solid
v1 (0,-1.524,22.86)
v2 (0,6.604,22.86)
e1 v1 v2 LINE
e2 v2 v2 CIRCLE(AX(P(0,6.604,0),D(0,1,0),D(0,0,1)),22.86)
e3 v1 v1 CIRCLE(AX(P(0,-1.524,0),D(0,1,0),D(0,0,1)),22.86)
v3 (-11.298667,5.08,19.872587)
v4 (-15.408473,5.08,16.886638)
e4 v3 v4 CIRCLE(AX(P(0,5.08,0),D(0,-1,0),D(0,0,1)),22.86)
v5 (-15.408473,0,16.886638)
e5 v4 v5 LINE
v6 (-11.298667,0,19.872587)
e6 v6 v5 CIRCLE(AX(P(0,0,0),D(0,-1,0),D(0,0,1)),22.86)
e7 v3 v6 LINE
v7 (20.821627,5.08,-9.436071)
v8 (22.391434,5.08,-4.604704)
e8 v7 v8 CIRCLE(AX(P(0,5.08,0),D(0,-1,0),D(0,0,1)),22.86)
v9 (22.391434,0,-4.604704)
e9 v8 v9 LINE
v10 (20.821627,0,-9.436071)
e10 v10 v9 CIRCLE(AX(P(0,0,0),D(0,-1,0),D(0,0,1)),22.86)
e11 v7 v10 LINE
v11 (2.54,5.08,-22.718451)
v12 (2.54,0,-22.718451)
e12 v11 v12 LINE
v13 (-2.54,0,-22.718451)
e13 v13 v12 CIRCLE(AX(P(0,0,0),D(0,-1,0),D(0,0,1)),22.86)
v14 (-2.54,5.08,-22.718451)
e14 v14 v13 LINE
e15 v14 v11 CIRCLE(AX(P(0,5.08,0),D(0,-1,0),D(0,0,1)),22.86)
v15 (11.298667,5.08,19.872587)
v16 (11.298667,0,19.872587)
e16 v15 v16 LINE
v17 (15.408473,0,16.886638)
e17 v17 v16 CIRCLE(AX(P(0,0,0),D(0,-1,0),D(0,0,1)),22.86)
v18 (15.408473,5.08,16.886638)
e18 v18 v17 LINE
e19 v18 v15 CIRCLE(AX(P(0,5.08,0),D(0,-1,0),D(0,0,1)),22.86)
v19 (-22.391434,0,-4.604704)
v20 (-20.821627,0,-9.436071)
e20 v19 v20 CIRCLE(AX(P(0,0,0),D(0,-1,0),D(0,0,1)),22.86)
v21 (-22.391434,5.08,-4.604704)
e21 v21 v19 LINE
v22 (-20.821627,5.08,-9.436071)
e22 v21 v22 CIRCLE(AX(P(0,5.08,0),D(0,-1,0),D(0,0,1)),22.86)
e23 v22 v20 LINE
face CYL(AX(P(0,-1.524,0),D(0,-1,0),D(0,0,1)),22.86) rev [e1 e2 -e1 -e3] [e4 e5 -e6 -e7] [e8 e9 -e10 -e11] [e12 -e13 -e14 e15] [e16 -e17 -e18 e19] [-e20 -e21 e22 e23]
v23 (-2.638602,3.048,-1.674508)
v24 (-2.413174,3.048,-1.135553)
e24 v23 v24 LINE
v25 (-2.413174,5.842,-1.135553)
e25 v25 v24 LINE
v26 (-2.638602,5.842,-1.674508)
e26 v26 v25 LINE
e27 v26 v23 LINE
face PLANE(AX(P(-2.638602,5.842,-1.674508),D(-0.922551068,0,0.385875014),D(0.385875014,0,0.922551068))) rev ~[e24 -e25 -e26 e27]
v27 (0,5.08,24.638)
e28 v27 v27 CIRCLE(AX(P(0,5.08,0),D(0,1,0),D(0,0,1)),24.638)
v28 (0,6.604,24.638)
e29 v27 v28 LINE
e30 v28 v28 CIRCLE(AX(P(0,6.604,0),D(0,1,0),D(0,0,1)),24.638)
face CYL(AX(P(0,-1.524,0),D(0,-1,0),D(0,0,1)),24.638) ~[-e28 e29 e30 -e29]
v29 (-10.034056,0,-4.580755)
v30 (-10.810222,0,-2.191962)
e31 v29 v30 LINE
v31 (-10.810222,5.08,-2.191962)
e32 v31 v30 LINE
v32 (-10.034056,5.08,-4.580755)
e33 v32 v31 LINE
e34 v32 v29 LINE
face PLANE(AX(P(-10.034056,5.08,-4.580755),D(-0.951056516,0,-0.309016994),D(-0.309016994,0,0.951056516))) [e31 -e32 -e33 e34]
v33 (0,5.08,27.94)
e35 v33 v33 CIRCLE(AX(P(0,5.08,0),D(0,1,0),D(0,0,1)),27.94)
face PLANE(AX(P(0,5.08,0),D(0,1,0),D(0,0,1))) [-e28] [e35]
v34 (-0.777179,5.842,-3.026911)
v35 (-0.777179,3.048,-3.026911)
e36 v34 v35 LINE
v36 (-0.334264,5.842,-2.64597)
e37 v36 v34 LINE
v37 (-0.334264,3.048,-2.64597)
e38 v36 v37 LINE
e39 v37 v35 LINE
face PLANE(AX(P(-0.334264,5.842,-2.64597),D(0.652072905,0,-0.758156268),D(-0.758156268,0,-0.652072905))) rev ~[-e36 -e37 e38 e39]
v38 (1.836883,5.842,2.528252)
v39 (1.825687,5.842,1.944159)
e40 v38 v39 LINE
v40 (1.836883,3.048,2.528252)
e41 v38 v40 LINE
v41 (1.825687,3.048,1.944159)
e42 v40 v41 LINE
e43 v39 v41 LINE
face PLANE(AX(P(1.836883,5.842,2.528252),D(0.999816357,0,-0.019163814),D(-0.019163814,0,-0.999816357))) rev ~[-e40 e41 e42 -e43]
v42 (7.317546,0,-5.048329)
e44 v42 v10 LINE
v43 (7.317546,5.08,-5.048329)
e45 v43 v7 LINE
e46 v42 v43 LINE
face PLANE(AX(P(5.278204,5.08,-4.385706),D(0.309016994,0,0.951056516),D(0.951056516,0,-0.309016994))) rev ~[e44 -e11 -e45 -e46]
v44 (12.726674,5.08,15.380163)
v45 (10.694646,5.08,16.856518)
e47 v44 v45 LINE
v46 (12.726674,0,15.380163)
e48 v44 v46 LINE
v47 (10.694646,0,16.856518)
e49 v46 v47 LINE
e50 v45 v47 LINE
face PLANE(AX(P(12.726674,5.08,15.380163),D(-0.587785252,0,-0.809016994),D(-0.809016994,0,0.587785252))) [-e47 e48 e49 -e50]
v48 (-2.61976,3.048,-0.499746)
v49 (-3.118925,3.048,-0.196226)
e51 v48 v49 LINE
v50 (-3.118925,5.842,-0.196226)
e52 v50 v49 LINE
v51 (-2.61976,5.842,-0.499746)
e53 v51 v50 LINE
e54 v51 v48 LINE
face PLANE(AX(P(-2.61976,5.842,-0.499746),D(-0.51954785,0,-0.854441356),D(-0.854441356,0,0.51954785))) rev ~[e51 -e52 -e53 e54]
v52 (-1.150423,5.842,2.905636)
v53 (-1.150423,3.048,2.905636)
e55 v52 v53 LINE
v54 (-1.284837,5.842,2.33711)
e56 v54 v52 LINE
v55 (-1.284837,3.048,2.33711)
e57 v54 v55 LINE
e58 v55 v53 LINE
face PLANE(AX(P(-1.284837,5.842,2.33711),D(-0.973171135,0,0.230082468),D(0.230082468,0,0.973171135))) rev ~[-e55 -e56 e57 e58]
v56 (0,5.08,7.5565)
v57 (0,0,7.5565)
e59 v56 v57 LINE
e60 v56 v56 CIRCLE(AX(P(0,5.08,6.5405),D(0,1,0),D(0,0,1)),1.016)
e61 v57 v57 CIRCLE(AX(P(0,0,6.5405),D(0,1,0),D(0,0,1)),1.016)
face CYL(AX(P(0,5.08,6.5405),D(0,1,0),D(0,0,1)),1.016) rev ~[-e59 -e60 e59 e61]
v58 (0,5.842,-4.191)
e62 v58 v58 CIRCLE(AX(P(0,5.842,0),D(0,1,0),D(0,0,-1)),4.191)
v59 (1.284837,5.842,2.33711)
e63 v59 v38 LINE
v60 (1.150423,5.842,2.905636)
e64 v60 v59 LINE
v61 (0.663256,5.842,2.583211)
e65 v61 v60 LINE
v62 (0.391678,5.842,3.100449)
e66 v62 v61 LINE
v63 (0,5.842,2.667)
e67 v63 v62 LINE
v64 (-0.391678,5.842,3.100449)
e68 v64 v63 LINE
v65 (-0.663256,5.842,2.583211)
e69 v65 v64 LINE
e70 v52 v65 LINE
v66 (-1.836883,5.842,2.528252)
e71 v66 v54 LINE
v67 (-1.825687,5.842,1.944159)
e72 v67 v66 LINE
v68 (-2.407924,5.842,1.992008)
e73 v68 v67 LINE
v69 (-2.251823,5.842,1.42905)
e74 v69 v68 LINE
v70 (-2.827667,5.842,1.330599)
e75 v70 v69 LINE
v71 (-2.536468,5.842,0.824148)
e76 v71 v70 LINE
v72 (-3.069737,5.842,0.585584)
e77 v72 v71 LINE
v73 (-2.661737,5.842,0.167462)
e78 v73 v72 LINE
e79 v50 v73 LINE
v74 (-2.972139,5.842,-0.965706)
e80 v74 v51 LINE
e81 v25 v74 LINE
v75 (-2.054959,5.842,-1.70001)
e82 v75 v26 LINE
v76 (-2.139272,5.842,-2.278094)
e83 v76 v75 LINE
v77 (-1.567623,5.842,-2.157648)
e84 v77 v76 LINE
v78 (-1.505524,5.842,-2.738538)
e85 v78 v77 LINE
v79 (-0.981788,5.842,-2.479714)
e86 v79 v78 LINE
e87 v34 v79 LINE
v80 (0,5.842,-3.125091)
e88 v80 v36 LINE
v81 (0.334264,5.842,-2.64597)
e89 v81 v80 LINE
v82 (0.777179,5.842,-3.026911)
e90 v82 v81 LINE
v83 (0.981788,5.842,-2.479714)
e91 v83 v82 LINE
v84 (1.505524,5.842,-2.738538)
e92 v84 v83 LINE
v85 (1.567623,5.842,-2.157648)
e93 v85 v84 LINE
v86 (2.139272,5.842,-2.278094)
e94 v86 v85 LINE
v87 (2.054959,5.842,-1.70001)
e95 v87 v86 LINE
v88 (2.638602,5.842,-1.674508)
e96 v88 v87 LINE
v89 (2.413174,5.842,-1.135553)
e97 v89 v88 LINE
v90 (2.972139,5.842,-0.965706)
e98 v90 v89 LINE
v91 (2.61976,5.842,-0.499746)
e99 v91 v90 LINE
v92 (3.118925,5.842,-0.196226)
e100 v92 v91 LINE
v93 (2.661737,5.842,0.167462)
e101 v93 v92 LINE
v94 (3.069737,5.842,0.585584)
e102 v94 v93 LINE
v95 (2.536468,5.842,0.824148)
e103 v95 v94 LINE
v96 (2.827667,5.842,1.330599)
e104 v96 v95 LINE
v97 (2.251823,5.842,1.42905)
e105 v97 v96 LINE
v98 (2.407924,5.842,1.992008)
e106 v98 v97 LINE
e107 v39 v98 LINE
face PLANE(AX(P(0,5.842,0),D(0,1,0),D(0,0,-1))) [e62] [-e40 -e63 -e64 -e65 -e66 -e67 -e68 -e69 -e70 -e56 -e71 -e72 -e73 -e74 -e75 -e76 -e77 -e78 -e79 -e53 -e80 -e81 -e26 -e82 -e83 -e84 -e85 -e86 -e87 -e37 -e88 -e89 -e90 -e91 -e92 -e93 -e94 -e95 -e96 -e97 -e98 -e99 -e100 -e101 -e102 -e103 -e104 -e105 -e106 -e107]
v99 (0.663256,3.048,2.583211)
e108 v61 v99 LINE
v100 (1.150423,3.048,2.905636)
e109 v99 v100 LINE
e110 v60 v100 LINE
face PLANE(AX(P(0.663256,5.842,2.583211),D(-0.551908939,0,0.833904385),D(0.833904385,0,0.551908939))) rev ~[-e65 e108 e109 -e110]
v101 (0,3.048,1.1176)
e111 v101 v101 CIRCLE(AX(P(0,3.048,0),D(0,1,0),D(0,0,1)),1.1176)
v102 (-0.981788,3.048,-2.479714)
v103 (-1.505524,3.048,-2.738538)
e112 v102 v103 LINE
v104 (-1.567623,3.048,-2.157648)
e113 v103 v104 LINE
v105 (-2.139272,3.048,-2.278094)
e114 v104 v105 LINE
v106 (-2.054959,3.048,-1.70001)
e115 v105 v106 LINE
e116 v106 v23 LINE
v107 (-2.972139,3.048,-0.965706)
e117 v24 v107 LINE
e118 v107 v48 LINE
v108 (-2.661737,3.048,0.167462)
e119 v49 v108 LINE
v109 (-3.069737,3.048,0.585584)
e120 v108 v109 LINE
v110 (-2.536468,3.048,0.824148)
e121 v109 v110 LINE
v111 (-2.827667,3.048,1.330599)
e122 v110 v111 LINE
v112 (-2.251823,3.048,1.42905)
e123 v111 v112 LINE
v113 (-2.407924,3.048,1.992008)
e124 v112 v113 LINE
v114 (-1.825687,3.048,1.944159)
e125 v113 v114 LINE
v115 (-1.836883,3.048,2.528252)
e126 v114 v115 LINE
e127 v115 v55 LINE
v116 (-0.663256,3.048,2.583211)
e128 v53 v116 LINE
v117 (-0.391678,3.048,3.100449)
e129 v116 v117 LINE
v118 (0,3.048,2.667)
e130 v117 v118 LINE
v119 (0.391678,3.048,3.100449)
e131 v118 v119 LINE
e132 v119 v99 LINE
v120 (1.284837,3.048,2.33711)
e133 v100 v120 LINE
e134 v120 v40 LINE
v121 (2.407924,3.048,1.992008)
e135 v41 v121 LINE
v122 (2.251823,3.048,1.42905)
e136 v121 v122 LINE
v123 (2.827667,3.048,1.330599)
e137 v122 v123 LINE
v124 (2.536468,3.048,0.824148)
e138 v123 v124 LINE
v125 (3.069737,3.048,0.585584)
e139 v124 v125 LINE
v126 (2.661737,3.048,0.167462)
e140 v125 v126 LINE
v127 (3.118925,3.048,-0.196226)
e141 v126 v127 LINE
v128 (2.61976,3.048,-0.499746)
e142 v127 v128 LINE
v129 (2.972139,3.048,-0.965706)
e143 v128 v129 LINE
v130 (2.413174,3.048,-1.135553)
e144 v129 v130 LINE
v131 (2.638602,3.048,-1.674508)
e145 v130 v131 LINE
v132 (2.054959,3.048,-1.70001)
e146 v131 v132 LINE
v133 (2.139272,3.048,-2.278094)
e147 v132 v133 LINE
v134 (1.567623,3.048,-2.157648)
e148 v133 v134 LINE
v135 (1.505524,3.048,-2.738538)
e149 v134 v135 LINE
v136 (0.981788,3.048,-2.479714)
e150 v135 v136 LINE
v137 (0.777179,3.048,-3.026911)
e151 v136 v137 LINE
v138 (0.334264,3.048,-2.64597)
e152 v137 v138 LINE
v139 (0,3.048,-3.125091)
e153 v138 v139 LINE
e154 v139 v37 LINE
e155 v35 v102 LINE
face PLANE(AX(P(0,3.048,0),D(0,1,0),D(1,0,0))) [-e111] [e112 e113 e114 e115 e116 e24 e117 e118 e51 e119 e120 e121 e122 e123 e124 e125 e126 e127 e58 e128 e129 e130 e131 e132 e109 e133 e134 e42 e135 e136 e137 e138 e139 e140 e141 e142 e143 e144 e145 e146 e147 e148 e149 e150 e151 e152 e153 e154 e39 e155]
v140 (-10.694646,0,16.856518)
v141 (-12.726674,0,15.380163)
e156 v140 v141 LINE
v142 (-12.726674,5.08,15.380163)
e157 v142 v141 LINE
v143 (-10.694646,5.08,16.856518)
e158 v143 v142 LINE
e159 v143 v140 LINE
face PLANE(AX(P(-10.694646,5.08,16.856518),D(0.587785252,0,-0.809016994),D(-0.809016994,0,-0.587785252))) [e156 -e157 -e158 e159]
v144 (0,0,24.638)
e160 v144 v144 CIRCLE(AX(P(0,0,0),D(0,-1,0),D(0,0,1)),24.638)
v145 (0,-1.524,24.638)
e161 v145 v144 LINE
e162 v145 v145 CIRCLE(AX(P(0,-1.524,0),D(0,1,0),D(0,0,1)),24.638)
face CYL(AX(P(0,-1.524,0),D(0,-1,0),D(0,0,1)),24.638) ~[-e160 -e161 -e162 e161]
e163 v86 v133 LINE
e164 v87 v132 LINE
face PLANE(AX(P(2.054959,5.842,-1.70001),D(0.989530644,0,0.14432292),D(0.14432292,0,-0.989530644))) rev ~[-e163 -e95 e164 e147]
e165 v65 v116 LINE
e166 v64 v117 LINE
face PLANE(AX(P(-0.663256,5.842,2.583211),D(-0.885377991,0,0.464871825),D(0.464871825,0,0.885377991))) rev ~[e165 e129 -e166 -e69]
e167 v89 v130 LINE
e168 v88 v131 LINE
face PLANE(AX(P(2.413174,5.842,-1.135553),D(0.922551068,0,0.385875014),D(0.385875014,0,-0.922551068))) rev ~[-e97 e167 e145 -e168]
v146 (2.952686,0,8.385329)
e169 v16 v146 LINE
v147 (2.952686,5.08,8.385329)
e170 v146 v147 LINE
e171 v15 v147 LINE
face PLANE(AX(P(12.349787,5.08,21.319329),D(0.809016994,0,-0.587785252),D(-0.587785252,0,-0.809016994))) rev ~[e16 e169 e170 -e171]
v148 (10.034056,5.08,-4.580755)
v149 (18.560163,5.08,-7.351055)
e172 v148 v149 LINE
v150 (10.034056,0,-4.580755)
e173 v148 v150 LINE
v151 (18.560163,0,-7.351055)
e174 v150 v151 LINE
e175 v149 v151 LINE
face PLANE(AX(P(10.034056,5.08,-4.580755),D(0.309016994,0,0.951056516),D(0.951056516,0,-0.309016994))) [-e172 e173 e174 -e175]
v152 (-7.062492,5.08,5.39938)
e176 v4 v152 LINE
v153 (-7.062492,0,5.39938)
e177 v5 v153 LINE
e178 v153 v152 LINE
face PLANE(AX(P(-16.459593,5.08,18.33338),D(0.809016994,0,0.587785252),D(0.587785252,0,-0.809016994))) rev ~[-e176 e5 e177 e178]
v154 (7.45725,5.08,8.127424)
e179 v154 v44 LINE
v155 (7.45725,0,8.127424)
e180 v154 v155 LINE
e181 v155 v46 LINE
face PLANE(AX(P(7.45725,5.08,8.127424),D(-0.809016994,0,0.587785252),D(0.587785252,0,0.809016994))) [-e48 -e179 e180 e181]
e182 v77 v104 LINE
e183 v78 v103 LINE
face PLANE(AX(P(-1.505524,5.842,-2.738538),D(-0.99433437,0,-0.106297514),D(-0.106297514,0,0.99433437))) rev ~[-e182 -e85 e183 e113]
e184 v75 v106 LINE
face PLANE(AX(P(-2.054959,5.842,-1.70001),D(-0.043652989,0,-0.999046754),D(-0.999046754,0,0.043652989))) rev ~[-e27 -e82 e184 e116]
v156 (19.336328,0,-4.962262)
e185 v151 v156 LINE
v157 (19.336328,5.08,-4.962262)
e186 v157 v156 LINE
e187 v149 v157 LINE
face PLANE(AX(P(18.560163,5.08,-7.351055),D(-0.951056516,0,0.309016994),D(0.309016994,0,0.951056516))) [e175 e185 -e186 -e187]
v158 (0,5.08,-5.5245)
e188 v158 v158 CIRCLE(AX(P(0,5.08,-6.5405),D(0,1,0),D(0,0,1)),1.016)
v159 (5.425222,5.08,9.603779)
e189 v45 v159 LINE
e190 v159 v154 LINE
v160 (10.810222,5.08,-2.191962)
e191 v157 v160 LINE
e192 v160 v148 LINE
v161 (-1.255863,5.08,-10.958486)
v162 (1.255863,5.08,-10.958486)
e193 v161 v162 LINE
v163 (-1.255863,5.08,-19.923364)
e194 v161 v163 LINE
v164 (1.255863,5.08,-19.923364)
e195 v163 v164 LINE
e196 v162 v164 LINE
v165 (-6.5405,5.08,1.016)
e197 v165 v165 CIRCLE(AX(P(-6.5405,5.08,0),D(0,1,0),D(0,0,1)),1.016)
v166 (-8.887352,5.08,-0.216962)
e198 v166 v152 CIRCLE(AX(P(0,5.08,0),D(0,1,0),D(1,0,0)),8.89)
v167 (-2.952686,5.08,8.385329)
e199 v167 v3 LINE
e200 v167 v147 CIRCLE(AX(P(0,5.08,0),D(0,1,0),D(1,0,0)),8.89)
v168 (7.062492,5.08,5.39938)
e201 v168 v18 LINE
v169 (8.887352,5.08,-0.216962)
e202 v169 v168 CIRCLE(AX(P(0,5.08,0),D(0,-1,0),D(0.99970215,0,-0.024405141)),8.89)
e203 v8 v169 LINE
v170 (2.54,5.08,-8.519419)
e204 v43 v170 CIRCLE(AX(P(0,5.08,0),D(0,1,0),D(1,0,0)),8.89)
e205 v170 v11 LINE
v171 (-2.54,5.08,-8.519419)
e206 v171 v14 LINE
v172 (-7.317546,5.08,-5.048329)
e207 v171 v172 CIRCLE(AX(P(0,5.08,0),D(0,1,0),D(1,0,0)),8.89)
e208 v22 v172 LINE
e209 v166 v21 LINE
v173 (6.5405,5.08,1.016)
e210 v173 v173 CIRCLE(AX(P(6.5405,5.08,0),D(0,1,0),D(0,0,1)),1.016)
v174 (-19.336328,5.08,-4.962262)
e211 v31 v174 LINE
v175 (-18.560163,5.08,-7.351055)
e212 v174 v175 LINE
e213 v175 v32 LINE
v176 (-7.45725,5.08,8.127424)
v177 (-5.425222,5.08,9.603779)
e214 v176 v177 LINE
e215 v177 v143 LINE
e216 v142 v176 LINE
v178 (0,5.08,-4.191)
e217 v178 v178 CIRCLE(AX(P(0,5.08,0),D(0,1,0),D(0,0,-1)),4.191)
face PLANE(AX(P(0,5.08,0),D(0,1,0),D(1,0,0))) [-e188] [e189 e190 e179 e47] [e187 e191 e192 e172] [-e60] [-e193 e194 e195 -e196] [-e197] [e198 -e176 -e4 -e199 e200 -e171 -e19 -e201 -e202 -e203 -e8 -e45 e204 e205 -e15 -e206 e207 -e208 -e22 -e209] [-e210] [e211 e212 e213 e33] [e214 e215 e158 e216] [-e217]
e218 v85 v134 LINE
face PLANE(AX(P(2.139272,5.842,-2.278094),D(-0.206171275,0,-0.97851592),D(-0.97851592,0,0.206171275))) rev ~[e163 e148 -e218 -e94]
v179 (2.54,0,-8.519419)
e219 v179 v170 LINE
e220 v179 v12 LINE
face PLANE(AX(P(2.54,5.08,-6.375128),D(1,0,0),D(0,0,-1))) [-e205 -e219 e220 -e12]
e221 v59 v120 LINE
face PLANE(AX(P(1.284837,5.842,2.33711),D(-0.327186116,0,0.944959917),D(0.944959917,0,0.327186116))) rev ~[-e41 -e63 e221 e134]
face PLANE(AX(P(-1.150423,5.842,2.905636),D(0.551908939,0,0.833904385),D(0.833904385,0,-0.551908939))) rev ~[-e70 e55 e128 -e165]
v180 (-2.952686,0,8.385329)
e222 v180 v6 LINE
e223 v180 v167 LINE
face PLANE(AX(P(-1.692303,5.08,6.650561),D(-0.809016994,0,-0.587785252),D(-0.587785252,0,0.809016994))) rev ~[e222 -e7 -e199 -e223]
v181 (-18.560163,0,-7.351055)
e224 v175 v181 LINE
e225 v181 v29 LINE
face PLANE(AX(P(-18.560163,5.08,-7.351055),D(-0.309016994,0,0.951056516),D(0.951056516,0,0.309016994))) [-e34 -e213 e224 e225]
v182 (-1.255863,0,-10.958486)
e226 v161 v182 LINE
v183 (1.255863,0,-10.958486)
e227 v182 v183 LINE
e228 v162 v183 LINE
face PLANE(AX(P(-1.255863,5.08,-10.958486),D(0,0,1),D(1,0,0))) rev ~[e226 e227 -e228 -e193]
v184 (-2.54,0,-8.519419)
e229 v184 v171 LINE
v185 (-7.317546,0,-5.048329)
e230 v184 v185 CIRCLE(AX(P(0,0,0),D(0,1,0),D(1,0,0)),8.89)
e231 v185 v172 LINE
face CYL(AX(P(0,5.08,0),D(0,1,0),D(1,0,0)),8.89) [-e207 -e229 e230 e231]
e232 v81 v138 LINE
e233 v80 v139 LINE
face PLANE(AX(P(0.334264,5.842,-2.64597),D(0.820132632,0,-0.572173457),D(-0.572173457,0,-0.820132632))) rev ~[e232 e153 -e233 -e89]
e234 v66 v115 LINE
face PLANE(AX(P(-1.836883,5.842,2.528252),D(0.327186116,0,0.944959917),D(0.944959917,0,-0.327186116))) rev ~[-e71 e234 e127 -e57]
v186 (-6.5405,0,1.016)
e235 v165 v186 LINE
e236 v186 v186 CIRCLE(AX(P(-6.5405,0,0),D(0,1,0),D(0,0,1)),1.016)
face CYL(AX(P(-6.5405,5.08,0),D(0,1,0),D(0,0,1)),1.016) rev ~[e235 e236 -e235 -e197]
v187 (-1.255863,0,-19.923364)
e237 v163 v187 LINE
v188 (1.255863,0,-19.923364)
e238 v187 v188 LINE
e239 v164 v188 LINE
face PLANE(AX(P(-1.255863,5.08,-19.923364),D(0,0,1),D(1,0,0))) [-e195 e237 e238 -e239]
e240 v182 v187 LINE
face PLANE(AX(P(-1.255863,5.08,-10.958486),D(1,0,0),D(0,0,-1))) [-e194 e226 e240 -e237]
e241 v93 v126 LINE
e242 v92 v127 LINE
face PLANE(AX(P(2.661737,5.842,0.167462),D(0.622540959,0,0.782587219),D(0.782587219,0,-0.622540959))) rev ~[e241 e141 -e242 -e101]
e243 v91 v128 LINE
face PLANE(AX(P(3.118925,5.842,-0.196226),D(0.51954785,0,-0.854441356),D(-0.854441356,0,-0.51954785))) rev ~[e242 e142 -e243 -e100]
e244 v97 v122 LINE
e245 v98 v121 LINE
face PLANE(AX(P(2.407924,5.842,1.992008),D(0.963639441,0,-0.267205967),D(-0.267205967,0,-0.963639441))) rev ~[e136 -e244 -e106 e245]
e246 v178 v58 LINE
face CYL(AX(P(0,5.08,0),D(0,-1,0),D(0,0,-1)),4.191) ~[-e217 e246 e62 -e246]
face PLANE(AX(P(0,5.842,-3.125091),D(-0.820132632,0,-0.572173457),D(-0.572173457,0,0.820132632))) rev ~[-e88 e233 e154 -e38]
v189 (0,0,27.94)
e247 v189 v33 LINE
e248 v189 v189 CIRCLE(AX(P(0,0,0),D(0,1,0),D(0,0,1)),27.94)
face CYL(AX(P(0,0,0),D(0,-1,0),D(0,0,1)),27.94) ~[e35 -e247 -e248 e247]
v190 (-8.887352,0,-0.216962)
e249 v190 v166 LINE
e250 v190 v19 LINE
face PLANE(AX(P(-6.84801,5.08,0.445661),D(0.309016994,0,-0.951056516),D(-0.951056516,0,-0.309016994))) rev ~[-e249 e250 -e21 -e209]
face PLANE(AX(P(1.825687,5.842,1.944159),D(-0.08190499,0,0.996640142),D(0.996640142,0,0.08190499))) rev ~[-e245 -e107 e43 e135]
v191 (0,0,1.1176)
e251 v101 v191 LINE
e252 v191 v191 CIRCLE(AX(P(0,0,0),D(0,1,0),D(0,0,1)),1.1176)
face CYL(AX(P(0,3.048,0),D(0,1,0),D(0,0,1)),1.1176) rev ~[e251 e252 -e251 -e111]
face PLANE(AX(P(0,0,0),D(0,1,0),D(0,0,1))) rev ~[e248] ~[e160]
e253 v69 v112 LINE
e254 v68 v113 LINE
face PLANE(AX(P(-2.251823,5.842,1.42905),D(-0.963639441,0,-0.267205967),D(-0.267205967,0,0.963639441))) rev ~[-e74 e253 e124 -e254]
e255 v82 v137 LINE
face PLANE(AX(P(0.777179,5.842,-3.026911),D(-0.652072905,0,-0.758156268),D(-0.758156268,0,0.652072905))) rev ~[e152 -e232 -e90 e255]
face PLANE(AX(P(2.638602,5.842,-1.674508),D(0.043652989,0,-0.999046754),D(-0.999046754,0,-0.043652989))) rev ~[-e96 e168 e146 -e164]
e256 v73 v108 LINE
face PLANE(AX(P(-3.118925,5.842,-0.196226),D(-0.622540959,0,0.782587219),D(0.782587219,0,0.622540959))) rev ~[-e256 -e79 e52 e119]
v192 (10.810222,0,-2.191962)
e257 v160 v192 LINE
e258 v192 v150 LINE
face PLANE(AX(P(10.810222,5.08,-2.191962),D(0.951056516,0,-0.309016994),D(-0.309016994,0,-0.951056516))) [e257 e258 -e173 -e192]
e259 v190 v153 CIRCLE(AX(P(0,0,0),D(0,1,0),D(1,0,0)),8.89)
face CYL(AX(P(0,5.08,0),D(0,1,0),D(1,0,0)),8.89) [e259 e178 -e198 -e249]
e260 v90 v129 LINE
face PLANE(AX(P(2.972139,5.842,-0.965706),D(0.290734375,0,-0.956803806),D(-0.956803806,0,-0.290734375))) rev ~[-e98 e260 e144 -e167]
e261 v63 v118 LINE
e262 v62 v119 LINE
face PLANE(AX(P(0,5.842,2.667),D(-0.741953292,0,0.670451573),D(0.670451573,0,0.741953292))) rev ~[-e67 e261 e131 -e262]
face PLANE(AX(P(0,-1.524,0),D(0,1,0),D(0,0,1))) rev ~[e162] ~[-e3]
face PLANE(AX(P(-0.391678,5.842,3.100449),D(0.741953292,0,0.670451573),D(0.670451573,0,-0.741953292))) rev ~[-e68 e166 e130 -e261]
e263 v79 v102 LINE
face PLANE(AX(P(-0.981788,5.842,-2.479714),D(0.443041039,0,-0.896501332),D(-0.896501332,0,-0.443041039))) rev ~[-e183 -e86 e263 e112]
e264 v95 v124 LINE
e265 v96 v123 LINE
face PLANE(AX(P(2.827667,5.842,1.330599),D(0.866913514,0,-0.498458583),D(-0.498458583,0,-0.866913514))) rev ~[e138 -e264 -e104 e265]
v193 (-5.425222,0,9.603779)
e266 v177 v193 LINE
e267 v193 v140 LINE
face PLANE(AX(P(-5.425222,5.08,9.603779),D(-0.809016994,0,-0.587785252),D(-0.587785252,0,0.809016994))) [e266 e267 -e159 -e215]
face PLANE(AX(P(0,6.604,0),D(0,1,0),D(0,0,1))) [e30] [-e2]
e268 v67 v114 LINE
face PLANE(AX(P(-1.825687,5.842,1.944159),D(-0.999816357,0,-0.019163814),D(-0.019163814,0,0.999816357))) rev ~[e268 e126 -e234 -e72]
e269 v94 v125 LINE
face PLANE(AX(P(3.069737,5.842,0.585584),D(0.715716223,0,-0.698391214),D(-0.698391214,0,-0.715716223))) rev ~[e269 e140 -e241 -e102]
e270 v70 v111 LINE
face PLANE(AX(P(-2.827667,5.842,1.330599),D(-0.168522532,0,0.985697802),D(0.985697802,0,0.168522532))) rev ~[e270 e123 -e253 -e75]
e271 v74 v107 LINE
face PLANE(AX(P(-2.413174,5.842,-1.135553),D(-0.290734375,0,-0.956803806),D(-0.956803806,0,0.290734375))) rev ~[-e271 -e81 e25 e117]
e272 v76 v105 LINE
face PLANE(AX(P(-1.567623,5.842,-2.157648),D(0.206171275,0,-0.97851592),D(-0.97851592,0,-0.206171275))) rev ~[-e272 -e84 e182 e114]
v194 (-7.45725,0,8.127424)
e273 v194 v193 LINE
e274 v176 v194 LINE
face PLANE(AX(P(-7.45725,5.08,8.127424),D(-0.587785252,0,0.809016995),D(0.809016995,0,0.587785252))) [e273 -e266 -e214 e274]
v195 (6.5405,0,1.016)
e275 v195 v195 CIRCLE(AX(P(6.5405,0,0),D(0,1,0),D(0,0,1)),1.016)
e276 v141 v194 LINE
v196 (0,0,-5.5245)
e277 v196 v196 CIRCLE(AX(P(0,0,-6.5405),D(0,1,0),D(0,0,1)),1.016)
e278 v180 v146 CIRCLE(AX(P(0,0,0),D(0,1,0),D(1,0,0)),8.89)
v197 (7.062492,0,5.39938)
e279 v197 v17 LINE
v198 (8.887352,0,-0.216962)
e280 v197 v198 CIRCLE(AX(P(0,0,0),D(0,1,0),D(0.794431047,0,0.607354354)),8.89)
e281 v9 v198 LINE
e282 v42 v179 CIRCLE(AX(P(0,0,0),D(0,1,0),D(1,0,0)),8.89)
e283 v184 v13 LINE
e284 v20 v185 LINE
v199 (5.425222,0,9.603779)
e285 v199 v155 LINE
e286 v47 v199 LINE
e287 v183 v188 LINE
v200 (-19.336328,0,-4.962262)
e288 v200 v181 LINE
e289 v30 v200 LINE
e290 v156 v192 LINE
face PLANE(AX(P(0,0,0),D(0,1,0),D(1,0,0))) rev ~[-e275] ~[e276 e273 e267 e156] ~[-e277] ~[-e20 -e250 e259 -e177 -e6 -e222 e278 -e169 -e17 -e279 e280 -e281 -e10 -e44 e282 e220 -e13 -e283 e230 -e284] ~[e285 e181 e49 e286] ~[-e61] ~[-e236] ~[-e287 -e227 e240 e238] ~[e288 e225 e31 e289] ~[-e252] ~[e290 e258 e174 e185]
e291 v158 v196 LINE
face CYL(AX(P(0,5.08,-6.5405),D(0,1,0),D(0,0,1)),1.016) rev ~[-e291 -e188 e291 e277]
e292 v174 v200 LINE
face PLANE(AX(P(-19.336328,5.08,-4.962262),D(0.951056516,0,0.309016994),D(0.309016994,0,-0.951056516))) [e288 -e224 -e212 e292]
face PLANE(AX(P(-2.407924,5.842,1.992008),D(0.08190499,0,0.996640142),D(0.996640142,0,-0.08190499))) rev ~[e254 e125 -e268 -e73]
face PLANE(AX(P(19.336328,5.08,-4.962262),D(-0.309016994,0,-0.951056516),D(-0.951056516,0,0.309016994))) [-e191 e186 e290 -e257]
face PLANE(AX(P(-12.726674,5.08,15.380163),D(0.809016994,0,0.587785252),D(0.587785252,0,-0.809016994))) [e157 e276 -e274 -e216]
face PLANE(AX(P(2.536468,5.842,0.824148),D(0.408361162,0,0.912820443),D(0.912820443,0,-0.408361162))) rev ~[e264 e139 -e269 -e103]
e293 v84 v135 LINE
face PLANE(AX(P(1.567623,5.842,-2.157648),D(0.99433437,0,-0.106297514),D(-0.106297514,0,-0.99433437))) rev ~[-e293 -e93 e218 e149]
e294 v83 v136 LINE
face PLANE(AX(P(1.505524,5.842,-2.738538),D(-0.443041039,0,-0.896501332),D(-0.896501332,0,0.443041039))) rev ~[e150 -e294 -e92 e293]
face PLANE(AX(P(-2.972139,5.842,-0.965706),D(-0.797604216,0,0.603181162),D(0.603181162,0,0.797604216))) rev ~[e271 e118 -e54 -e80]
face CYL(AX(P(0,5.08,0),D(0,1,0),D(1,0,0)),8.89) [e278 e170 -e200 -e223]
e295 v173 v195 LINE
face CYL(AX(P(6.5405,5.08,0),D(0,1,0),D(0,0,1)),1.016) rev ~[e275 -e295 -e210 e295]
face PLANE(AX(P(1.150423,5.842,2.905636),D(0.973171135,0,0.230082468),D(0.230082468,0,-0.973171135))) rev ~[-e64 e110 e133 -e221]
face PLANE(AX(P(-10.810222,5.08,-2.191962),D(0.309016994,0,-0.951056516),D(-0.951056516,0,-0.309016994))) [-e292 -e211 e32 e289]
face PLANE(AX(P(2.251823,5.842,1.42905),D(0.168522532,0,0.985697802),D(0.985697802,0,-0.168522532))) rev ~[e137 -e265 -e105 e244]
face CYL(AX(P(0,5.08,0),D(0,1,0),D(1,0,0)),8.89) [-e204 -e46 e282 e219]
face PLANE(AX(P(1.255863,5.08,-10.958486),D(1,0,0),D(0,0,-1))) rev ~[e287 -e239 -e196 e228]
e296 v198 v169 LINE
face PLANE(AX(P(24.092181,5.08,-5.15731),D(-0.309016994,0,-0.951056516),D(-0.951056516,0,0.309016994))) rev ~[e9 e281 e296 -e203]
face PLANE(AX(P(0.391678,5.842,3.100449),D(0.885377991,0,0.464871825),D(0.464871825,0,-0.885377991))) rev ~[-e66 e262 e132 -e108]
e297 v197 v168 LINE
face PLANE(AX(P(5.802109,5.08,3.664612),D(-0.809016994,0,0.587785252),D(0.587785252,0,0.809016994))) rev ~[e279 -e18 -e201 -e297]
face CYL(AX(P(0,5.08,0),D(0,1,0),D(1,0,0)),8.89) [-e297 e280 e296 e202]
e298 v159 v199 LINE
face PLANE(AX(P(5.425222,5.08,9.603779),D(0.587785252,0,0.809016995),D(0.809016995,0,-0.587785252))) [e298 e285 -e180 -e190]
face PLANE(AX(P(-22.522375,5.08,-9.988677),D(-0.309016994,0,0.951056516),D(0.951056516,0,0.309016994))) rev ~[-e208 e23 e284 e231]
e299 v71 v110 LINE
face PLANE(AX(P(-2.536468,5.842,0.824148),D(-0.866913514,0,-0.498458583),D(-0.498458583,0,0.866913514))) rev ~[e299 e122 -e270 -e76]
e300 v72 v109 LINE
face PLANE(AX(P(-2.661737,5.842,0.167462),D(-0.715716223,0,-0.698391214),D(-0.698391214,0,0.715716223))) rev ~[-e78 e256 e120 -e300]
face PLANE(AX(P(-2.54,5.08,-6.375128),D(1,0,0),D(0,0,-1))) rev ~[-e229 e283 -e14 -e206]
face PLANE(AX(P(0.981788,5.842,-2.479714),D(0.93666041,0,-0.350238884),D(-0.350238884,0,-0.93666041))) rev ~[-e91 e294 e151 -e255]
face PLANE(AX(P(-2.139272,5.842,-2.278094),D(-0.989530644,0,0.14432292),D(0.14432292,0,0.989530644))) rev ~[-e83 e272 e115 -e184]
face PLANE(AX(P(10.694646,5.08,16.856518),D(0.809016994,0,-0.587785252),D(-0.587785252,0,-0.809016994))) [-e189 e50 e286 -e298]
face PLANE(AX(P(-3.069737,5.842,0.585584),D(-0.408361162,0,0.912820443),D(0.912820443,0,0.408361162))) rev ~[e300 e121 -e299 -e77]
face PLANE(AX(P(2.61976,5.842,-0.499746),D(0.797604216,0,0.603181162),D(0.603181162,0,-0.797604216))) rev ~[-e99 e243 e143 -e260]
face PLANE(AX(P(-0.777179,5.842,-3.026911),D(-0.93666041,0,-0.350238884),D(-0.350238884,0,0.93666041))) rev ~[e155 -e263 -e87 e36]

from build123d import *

# Parameters (mm, degrees)
SKETCH2_R                = 27.94
BOSS_EXTRUDE1_DEPTH      = 5.08
SKETCH3_R                = 22.86
CUT_EXTRUDE1_DEPTH       = 40.838343339
BOSS_EXTRUDE2_DEPTH      = 1.524
BOSS_EXTRUDE2_DEPTH_BACK = 6.604
SKETCH4_R                = 24.638
SKETCH4_R_2              = 22.86
SKETCH5_R                = 8.89
SKETCH5_W                = 5.08
SKETCH5_H                = 18.131594767
SKETCH5_W_2              = 2.51172526
SKETCH5_H_2              = 8.964878854
BOSS_EXTRUDE4_DEPTH      = 5.08
SKETCH6_R                = 4.191
SKETCH6_R_2              = 2.667
BOSS_EXTRUDE5_DEPTH      = 0.762
CUT_EXTRUDE2_START       = -2.794
SKETCH8_R                = 2.667
CUT_EXTRUDE2_DEPTH       = 2.794
CUT_EXTRUDE3_DEPTH       = 2.794
SKETCH10_R               = 1.1176
CUT_EXTRUDE4_DEPTH       = 40.776756831
SKETCH11_R               = 1.016
CUT_EXTRUDE5_DEPTH       = 41.061203377


with BuildPart() as part:
    # Sketch2 → Boss-Extrude1 (new body)
    with BuildSketch(Plane(origin=(0, 0, 0), x_dir=(1, 0, 0), z_dir=(0, 1, 0))):
        with Locations(Location((0, 0, 0), (0, 0, 270))):
            Circle(SKETCH2_R)
    extrude(amount=BOSS_EXTRUDE1_DEPTH)

    # Sketch3 → Cut-Extrude1 (cut, through all)
    with BuildSketch(Plane(origin=(0, 5.08, 0), x_dir=(1, 0, 0), z_dir=(0, 1, 0))):
        with Locations(Location((0, 0, 0), (0, 0, 270))):
            Circle(SKETCH3_R)
    extrude(amount=-CUT_EXTRUDE1_DEPTH, mode=Mode.SUBTRACT)

    # Sketch4 → Boss-Extrude2 (add, two sides: drawn at the far end of the back side and taken through both)
    with BuildSketch(Plane(origin=(0, 5.08, 0), x_dir=(1, 0, 0), z_dir=(0, 1, 0)).offset(-BOSS_EXTRUDE2_DEPTH_BACK)):
        with Locations(Location((0, 0, 0), (0, 0, 270))):
            Circle(SKETCH4_R)
        with Locations(Location((0, 0, 0), (0, 0, 270))):
            Circle(SKETCH4_R_2, mode=Mode.SUBTRACT)
    extrude(amount=BOSS_EXTRUDE2_DEPTH + BOSS_EXTRUDE2_DEPTH_BACK)

    # Sketch5 → Boss-Extrude4 (add)
    # profile 1 of 6: a face of its own
    with BuildSketch(Plane(origin=(0, 5.08, 0), x_dir=(1, 0, 0), z_dir=(0, 1, 0))):
        Circle(SKETCH5_R)
    # profile 2 of 6: a face of its own
    with BuildSketch(Plane(origin=(0, 5.08, 0), x_dir=(1, 0, 0), z_dir=(0, 1, 0))):
        Polygon((5.278203535, 4.385706339), (22.522374889, 9.988677257), (24.092181221, 5.157310154), (6.848009867, -0.445660764), align=None)
        Polygon((10.810222047, 2.19196195), (10.034056257, 4.580754625), (18.560162709, 7.351054544), (19.336328499, 4.962261868), align=None, mode=Mode.SUBTRACT)
    # profile 3 of 6: a face of its own
    with BuildSketch(Plane(origin=(0, 5.08, 0), x_dir=(1, 0, 0), z_dir=(0, 1, 0))):
        with Locations((0, 15.440925042)):
            Rectangle(SKETCH5_W, SKETCH5_H)
        with Locations((0, 15.440925041)):
            Rectangle(SKETCH5_W_2, SKETCH5_H_2, mode=Mode.SUBTRACT)
    # profile 4 of 6: a face of its own
    with BuildSketch(Plane(origin=(0, 5.08, 0), x_dir=(1, 0, 0), z_dir=(0, 1, 0))):
        Polygon((5.802109184, -3.664612076), (16.459593189, -18.333380377), (12.349786858, -21.319329459), (1.692302853, -6.650561157), align=None)
        Polygon((5.425222021, -9.603778627), (7.457250442, -8.127423562), (12.726674021, -15.380162907), (10.6946456, -16.856517973), align=None, mode=Mode.SUBTRACT)
    # profile 5 of 6: a face of its own
    with BuildSketch(Plane(origin=(0, 5.08, 0), x_dir=(1, 0, 0), z_dir=(0, 1, 0))):
        Polygon((-1.692302853, -6.650561157), (-12.349786858, -21.319329459), (-16.459593189, -18.333380377), (-5.802109184, -3.664612076), align=None)
        Polygon((-7.457250442, -8.127423562), (-5.425222021, -9.603778627), (-10.6946456, -16.856517973), (-12.726674021, -15.380162907), align=None, mode=Mode.SUBTRACT)
    # profile 6 of 6: a face of its own
    with BuildSketch(Plane(origin=(0, 5.08, 0), x_dir=(1, 0, 0), z_dir=(0, 1, 0))):
        Polygon((-6.848009867, -0.445660764), (-24.092181221, 5.157310154), (-22.522374889, 9.988677257), (-5.278203535, 4.385706339), align=None)
        Polygon((-10.034056257, 4.580754625), (-10.810222047, 2.19196195), (-19.336328499, 4.962261868), (-18.560162709, 7.351054544), align=None, mode=Mode.SUBTRACT)
    extrude(amount=-BOSS_EXTRUDE4_DEPTH)

    # Sketch6 → Boss-Extrude5 (add)
    with BuildSketch(Plane(origin=(0, 5.08, 0), x_dir=(1, 0, 0), z_dir=(0, 1, 0))):
        with Locations(Location((0, 0, 0), (0, 0, 90))):
            Circle(SKETCH6_R)
        with Locations(Location((0, 0, 0), (0, 0, 90))):
            Circle(SKETCH6_R_2, mode=Mode.SUBTRACT)
    extrude(amount=BOSS_EXTRUDE5_DEPTH)

    # Sketch8 → Cut-Extrude2 (cut)
    with BuildSketch(Plane(origin=(0, 5.842, 0), x_dir=(1, 0, 0), z_dir=(0, 1, 0)).offset(CUT_EXTRUDE2_START)):
        with Locations(Location((0, 0, 0), (0, 0, 90))):
            Circle(SKETCH8_R)
    extrude(amount=CUT_EXTRUDE2_DEPTH, mode=Mode.SUBTRACT)

    # Sketch9 → Cut-Extrude3 (cut)
    with BuildSketch(Plane(origin=(0, 5.842, 0), x_dir=(1, 0, 0), z_dir=(0, 1, 0))):
        Polygon((0, 3.125091392), (-0.334263734, 2.645969908), (-0.777178626, 3.026910899), (-0.981788182, 2.479713888), (-1.50552426, 2.738538463), (-1.567623268, 2.157648324), (-2.139272268, 2.278093583), (-2.054958818, 1.700009781), (-2.638601932, 1.674507705), (-2.413173749, 1.135553371), (-2.972138533, 0.965706349), (-2.619760098, 0.499745966), (-3.118924738, 0.196226112), (-2.661737285, -0.167462316), (-3.069737432, -0.585583733), (-2.536467729, -0.824148324), (-2.827667233, -1.330599199), (-2.251822577, -1.429050062), (-2.407924303, -1.992008224), (-1.825687132, -1.944159329), (-1.836882632, -2.528252045), (-1.284837049, -2.337109916), (-1.150422871, -2.905636493), (-0.663255929, -2.583211291), (-0.391677809, -3.100449113), (0, -2.667), (0.391677809, -3.100449113), (0.663255929, -2.583211291), (1.150422871, -2.905636493), (1.284837049, -2.337109916), (1.836882632, -2.528252045), (1.825687132, -1.944159329), (2.407924303, -1.992008224), (2.251822577, -1.429050062), (2.827667233, -1.330599199), (2.536467729, -0.824148324), (3.069737432, -0.585583733), (2.661737285, -0.167462316), (3.118924738, 0.196226112), (2.619760098, 0.499745966), (2.972138533, 0.965706349), (2.413173749, 1.135553371), (2.638601932, 1.674507705), (2.054958818, 1.700009781), (2.139272268, 2.278093583), (1.567623268, 2.157648324), (1.50552426, 2.738538463), (0.981788182, 2.479713888), (0.777178626, 3.026910899), (0.334263734, 2.645969908), align=None)
    extrude(amount=-CUT_EXTRUDE3_DEPTH, mode=Mode.SUBTRACT)

    # Sketch10 → Cut-Extrude4 (cut, through all)
    with BuildSketch(Plane(origin=(0, 3.048, 0), x_dir=(1, 0, 0), z_dir=(0, 1, 0))):
        with Locations(Location((0, 0, 0), (0, 0, 270))):
            Circle(SKETCH10_R)
    extrude(amount=-CUT_EXTRUDE4_DEPTH, mode=Mode.SUBTRACT)

    # Sketch11 → Cut-Extrude5 (cut, through all)
    with BuildSketch(Plane(origin=(0, 5.08, 0), x_dir=(1, 0, 0), z_dir=(0, 1, 0))):
        with Locations(Location((0, 6.5405, 0), (0, 0, 270))):
            Circle(SKETCH11_R)
        with Locations(Location((6.5405, 0, 0), (0, 0, 270))):
            Circle(SKETCH11_R)
        with Locations(Location((0, -6.5405, 0), (0, 0, 270))):
            Circle(SKETCH11_R)
        with Locations(Location((-6.5405, 0, 0), (0, 0, 270))):
            Circle(SKETCH11_R)
    extrude(amount=-CUT_EXTRUDE5_DEPTH, mode=Mode.SUBTRACT)


solid = part.part
